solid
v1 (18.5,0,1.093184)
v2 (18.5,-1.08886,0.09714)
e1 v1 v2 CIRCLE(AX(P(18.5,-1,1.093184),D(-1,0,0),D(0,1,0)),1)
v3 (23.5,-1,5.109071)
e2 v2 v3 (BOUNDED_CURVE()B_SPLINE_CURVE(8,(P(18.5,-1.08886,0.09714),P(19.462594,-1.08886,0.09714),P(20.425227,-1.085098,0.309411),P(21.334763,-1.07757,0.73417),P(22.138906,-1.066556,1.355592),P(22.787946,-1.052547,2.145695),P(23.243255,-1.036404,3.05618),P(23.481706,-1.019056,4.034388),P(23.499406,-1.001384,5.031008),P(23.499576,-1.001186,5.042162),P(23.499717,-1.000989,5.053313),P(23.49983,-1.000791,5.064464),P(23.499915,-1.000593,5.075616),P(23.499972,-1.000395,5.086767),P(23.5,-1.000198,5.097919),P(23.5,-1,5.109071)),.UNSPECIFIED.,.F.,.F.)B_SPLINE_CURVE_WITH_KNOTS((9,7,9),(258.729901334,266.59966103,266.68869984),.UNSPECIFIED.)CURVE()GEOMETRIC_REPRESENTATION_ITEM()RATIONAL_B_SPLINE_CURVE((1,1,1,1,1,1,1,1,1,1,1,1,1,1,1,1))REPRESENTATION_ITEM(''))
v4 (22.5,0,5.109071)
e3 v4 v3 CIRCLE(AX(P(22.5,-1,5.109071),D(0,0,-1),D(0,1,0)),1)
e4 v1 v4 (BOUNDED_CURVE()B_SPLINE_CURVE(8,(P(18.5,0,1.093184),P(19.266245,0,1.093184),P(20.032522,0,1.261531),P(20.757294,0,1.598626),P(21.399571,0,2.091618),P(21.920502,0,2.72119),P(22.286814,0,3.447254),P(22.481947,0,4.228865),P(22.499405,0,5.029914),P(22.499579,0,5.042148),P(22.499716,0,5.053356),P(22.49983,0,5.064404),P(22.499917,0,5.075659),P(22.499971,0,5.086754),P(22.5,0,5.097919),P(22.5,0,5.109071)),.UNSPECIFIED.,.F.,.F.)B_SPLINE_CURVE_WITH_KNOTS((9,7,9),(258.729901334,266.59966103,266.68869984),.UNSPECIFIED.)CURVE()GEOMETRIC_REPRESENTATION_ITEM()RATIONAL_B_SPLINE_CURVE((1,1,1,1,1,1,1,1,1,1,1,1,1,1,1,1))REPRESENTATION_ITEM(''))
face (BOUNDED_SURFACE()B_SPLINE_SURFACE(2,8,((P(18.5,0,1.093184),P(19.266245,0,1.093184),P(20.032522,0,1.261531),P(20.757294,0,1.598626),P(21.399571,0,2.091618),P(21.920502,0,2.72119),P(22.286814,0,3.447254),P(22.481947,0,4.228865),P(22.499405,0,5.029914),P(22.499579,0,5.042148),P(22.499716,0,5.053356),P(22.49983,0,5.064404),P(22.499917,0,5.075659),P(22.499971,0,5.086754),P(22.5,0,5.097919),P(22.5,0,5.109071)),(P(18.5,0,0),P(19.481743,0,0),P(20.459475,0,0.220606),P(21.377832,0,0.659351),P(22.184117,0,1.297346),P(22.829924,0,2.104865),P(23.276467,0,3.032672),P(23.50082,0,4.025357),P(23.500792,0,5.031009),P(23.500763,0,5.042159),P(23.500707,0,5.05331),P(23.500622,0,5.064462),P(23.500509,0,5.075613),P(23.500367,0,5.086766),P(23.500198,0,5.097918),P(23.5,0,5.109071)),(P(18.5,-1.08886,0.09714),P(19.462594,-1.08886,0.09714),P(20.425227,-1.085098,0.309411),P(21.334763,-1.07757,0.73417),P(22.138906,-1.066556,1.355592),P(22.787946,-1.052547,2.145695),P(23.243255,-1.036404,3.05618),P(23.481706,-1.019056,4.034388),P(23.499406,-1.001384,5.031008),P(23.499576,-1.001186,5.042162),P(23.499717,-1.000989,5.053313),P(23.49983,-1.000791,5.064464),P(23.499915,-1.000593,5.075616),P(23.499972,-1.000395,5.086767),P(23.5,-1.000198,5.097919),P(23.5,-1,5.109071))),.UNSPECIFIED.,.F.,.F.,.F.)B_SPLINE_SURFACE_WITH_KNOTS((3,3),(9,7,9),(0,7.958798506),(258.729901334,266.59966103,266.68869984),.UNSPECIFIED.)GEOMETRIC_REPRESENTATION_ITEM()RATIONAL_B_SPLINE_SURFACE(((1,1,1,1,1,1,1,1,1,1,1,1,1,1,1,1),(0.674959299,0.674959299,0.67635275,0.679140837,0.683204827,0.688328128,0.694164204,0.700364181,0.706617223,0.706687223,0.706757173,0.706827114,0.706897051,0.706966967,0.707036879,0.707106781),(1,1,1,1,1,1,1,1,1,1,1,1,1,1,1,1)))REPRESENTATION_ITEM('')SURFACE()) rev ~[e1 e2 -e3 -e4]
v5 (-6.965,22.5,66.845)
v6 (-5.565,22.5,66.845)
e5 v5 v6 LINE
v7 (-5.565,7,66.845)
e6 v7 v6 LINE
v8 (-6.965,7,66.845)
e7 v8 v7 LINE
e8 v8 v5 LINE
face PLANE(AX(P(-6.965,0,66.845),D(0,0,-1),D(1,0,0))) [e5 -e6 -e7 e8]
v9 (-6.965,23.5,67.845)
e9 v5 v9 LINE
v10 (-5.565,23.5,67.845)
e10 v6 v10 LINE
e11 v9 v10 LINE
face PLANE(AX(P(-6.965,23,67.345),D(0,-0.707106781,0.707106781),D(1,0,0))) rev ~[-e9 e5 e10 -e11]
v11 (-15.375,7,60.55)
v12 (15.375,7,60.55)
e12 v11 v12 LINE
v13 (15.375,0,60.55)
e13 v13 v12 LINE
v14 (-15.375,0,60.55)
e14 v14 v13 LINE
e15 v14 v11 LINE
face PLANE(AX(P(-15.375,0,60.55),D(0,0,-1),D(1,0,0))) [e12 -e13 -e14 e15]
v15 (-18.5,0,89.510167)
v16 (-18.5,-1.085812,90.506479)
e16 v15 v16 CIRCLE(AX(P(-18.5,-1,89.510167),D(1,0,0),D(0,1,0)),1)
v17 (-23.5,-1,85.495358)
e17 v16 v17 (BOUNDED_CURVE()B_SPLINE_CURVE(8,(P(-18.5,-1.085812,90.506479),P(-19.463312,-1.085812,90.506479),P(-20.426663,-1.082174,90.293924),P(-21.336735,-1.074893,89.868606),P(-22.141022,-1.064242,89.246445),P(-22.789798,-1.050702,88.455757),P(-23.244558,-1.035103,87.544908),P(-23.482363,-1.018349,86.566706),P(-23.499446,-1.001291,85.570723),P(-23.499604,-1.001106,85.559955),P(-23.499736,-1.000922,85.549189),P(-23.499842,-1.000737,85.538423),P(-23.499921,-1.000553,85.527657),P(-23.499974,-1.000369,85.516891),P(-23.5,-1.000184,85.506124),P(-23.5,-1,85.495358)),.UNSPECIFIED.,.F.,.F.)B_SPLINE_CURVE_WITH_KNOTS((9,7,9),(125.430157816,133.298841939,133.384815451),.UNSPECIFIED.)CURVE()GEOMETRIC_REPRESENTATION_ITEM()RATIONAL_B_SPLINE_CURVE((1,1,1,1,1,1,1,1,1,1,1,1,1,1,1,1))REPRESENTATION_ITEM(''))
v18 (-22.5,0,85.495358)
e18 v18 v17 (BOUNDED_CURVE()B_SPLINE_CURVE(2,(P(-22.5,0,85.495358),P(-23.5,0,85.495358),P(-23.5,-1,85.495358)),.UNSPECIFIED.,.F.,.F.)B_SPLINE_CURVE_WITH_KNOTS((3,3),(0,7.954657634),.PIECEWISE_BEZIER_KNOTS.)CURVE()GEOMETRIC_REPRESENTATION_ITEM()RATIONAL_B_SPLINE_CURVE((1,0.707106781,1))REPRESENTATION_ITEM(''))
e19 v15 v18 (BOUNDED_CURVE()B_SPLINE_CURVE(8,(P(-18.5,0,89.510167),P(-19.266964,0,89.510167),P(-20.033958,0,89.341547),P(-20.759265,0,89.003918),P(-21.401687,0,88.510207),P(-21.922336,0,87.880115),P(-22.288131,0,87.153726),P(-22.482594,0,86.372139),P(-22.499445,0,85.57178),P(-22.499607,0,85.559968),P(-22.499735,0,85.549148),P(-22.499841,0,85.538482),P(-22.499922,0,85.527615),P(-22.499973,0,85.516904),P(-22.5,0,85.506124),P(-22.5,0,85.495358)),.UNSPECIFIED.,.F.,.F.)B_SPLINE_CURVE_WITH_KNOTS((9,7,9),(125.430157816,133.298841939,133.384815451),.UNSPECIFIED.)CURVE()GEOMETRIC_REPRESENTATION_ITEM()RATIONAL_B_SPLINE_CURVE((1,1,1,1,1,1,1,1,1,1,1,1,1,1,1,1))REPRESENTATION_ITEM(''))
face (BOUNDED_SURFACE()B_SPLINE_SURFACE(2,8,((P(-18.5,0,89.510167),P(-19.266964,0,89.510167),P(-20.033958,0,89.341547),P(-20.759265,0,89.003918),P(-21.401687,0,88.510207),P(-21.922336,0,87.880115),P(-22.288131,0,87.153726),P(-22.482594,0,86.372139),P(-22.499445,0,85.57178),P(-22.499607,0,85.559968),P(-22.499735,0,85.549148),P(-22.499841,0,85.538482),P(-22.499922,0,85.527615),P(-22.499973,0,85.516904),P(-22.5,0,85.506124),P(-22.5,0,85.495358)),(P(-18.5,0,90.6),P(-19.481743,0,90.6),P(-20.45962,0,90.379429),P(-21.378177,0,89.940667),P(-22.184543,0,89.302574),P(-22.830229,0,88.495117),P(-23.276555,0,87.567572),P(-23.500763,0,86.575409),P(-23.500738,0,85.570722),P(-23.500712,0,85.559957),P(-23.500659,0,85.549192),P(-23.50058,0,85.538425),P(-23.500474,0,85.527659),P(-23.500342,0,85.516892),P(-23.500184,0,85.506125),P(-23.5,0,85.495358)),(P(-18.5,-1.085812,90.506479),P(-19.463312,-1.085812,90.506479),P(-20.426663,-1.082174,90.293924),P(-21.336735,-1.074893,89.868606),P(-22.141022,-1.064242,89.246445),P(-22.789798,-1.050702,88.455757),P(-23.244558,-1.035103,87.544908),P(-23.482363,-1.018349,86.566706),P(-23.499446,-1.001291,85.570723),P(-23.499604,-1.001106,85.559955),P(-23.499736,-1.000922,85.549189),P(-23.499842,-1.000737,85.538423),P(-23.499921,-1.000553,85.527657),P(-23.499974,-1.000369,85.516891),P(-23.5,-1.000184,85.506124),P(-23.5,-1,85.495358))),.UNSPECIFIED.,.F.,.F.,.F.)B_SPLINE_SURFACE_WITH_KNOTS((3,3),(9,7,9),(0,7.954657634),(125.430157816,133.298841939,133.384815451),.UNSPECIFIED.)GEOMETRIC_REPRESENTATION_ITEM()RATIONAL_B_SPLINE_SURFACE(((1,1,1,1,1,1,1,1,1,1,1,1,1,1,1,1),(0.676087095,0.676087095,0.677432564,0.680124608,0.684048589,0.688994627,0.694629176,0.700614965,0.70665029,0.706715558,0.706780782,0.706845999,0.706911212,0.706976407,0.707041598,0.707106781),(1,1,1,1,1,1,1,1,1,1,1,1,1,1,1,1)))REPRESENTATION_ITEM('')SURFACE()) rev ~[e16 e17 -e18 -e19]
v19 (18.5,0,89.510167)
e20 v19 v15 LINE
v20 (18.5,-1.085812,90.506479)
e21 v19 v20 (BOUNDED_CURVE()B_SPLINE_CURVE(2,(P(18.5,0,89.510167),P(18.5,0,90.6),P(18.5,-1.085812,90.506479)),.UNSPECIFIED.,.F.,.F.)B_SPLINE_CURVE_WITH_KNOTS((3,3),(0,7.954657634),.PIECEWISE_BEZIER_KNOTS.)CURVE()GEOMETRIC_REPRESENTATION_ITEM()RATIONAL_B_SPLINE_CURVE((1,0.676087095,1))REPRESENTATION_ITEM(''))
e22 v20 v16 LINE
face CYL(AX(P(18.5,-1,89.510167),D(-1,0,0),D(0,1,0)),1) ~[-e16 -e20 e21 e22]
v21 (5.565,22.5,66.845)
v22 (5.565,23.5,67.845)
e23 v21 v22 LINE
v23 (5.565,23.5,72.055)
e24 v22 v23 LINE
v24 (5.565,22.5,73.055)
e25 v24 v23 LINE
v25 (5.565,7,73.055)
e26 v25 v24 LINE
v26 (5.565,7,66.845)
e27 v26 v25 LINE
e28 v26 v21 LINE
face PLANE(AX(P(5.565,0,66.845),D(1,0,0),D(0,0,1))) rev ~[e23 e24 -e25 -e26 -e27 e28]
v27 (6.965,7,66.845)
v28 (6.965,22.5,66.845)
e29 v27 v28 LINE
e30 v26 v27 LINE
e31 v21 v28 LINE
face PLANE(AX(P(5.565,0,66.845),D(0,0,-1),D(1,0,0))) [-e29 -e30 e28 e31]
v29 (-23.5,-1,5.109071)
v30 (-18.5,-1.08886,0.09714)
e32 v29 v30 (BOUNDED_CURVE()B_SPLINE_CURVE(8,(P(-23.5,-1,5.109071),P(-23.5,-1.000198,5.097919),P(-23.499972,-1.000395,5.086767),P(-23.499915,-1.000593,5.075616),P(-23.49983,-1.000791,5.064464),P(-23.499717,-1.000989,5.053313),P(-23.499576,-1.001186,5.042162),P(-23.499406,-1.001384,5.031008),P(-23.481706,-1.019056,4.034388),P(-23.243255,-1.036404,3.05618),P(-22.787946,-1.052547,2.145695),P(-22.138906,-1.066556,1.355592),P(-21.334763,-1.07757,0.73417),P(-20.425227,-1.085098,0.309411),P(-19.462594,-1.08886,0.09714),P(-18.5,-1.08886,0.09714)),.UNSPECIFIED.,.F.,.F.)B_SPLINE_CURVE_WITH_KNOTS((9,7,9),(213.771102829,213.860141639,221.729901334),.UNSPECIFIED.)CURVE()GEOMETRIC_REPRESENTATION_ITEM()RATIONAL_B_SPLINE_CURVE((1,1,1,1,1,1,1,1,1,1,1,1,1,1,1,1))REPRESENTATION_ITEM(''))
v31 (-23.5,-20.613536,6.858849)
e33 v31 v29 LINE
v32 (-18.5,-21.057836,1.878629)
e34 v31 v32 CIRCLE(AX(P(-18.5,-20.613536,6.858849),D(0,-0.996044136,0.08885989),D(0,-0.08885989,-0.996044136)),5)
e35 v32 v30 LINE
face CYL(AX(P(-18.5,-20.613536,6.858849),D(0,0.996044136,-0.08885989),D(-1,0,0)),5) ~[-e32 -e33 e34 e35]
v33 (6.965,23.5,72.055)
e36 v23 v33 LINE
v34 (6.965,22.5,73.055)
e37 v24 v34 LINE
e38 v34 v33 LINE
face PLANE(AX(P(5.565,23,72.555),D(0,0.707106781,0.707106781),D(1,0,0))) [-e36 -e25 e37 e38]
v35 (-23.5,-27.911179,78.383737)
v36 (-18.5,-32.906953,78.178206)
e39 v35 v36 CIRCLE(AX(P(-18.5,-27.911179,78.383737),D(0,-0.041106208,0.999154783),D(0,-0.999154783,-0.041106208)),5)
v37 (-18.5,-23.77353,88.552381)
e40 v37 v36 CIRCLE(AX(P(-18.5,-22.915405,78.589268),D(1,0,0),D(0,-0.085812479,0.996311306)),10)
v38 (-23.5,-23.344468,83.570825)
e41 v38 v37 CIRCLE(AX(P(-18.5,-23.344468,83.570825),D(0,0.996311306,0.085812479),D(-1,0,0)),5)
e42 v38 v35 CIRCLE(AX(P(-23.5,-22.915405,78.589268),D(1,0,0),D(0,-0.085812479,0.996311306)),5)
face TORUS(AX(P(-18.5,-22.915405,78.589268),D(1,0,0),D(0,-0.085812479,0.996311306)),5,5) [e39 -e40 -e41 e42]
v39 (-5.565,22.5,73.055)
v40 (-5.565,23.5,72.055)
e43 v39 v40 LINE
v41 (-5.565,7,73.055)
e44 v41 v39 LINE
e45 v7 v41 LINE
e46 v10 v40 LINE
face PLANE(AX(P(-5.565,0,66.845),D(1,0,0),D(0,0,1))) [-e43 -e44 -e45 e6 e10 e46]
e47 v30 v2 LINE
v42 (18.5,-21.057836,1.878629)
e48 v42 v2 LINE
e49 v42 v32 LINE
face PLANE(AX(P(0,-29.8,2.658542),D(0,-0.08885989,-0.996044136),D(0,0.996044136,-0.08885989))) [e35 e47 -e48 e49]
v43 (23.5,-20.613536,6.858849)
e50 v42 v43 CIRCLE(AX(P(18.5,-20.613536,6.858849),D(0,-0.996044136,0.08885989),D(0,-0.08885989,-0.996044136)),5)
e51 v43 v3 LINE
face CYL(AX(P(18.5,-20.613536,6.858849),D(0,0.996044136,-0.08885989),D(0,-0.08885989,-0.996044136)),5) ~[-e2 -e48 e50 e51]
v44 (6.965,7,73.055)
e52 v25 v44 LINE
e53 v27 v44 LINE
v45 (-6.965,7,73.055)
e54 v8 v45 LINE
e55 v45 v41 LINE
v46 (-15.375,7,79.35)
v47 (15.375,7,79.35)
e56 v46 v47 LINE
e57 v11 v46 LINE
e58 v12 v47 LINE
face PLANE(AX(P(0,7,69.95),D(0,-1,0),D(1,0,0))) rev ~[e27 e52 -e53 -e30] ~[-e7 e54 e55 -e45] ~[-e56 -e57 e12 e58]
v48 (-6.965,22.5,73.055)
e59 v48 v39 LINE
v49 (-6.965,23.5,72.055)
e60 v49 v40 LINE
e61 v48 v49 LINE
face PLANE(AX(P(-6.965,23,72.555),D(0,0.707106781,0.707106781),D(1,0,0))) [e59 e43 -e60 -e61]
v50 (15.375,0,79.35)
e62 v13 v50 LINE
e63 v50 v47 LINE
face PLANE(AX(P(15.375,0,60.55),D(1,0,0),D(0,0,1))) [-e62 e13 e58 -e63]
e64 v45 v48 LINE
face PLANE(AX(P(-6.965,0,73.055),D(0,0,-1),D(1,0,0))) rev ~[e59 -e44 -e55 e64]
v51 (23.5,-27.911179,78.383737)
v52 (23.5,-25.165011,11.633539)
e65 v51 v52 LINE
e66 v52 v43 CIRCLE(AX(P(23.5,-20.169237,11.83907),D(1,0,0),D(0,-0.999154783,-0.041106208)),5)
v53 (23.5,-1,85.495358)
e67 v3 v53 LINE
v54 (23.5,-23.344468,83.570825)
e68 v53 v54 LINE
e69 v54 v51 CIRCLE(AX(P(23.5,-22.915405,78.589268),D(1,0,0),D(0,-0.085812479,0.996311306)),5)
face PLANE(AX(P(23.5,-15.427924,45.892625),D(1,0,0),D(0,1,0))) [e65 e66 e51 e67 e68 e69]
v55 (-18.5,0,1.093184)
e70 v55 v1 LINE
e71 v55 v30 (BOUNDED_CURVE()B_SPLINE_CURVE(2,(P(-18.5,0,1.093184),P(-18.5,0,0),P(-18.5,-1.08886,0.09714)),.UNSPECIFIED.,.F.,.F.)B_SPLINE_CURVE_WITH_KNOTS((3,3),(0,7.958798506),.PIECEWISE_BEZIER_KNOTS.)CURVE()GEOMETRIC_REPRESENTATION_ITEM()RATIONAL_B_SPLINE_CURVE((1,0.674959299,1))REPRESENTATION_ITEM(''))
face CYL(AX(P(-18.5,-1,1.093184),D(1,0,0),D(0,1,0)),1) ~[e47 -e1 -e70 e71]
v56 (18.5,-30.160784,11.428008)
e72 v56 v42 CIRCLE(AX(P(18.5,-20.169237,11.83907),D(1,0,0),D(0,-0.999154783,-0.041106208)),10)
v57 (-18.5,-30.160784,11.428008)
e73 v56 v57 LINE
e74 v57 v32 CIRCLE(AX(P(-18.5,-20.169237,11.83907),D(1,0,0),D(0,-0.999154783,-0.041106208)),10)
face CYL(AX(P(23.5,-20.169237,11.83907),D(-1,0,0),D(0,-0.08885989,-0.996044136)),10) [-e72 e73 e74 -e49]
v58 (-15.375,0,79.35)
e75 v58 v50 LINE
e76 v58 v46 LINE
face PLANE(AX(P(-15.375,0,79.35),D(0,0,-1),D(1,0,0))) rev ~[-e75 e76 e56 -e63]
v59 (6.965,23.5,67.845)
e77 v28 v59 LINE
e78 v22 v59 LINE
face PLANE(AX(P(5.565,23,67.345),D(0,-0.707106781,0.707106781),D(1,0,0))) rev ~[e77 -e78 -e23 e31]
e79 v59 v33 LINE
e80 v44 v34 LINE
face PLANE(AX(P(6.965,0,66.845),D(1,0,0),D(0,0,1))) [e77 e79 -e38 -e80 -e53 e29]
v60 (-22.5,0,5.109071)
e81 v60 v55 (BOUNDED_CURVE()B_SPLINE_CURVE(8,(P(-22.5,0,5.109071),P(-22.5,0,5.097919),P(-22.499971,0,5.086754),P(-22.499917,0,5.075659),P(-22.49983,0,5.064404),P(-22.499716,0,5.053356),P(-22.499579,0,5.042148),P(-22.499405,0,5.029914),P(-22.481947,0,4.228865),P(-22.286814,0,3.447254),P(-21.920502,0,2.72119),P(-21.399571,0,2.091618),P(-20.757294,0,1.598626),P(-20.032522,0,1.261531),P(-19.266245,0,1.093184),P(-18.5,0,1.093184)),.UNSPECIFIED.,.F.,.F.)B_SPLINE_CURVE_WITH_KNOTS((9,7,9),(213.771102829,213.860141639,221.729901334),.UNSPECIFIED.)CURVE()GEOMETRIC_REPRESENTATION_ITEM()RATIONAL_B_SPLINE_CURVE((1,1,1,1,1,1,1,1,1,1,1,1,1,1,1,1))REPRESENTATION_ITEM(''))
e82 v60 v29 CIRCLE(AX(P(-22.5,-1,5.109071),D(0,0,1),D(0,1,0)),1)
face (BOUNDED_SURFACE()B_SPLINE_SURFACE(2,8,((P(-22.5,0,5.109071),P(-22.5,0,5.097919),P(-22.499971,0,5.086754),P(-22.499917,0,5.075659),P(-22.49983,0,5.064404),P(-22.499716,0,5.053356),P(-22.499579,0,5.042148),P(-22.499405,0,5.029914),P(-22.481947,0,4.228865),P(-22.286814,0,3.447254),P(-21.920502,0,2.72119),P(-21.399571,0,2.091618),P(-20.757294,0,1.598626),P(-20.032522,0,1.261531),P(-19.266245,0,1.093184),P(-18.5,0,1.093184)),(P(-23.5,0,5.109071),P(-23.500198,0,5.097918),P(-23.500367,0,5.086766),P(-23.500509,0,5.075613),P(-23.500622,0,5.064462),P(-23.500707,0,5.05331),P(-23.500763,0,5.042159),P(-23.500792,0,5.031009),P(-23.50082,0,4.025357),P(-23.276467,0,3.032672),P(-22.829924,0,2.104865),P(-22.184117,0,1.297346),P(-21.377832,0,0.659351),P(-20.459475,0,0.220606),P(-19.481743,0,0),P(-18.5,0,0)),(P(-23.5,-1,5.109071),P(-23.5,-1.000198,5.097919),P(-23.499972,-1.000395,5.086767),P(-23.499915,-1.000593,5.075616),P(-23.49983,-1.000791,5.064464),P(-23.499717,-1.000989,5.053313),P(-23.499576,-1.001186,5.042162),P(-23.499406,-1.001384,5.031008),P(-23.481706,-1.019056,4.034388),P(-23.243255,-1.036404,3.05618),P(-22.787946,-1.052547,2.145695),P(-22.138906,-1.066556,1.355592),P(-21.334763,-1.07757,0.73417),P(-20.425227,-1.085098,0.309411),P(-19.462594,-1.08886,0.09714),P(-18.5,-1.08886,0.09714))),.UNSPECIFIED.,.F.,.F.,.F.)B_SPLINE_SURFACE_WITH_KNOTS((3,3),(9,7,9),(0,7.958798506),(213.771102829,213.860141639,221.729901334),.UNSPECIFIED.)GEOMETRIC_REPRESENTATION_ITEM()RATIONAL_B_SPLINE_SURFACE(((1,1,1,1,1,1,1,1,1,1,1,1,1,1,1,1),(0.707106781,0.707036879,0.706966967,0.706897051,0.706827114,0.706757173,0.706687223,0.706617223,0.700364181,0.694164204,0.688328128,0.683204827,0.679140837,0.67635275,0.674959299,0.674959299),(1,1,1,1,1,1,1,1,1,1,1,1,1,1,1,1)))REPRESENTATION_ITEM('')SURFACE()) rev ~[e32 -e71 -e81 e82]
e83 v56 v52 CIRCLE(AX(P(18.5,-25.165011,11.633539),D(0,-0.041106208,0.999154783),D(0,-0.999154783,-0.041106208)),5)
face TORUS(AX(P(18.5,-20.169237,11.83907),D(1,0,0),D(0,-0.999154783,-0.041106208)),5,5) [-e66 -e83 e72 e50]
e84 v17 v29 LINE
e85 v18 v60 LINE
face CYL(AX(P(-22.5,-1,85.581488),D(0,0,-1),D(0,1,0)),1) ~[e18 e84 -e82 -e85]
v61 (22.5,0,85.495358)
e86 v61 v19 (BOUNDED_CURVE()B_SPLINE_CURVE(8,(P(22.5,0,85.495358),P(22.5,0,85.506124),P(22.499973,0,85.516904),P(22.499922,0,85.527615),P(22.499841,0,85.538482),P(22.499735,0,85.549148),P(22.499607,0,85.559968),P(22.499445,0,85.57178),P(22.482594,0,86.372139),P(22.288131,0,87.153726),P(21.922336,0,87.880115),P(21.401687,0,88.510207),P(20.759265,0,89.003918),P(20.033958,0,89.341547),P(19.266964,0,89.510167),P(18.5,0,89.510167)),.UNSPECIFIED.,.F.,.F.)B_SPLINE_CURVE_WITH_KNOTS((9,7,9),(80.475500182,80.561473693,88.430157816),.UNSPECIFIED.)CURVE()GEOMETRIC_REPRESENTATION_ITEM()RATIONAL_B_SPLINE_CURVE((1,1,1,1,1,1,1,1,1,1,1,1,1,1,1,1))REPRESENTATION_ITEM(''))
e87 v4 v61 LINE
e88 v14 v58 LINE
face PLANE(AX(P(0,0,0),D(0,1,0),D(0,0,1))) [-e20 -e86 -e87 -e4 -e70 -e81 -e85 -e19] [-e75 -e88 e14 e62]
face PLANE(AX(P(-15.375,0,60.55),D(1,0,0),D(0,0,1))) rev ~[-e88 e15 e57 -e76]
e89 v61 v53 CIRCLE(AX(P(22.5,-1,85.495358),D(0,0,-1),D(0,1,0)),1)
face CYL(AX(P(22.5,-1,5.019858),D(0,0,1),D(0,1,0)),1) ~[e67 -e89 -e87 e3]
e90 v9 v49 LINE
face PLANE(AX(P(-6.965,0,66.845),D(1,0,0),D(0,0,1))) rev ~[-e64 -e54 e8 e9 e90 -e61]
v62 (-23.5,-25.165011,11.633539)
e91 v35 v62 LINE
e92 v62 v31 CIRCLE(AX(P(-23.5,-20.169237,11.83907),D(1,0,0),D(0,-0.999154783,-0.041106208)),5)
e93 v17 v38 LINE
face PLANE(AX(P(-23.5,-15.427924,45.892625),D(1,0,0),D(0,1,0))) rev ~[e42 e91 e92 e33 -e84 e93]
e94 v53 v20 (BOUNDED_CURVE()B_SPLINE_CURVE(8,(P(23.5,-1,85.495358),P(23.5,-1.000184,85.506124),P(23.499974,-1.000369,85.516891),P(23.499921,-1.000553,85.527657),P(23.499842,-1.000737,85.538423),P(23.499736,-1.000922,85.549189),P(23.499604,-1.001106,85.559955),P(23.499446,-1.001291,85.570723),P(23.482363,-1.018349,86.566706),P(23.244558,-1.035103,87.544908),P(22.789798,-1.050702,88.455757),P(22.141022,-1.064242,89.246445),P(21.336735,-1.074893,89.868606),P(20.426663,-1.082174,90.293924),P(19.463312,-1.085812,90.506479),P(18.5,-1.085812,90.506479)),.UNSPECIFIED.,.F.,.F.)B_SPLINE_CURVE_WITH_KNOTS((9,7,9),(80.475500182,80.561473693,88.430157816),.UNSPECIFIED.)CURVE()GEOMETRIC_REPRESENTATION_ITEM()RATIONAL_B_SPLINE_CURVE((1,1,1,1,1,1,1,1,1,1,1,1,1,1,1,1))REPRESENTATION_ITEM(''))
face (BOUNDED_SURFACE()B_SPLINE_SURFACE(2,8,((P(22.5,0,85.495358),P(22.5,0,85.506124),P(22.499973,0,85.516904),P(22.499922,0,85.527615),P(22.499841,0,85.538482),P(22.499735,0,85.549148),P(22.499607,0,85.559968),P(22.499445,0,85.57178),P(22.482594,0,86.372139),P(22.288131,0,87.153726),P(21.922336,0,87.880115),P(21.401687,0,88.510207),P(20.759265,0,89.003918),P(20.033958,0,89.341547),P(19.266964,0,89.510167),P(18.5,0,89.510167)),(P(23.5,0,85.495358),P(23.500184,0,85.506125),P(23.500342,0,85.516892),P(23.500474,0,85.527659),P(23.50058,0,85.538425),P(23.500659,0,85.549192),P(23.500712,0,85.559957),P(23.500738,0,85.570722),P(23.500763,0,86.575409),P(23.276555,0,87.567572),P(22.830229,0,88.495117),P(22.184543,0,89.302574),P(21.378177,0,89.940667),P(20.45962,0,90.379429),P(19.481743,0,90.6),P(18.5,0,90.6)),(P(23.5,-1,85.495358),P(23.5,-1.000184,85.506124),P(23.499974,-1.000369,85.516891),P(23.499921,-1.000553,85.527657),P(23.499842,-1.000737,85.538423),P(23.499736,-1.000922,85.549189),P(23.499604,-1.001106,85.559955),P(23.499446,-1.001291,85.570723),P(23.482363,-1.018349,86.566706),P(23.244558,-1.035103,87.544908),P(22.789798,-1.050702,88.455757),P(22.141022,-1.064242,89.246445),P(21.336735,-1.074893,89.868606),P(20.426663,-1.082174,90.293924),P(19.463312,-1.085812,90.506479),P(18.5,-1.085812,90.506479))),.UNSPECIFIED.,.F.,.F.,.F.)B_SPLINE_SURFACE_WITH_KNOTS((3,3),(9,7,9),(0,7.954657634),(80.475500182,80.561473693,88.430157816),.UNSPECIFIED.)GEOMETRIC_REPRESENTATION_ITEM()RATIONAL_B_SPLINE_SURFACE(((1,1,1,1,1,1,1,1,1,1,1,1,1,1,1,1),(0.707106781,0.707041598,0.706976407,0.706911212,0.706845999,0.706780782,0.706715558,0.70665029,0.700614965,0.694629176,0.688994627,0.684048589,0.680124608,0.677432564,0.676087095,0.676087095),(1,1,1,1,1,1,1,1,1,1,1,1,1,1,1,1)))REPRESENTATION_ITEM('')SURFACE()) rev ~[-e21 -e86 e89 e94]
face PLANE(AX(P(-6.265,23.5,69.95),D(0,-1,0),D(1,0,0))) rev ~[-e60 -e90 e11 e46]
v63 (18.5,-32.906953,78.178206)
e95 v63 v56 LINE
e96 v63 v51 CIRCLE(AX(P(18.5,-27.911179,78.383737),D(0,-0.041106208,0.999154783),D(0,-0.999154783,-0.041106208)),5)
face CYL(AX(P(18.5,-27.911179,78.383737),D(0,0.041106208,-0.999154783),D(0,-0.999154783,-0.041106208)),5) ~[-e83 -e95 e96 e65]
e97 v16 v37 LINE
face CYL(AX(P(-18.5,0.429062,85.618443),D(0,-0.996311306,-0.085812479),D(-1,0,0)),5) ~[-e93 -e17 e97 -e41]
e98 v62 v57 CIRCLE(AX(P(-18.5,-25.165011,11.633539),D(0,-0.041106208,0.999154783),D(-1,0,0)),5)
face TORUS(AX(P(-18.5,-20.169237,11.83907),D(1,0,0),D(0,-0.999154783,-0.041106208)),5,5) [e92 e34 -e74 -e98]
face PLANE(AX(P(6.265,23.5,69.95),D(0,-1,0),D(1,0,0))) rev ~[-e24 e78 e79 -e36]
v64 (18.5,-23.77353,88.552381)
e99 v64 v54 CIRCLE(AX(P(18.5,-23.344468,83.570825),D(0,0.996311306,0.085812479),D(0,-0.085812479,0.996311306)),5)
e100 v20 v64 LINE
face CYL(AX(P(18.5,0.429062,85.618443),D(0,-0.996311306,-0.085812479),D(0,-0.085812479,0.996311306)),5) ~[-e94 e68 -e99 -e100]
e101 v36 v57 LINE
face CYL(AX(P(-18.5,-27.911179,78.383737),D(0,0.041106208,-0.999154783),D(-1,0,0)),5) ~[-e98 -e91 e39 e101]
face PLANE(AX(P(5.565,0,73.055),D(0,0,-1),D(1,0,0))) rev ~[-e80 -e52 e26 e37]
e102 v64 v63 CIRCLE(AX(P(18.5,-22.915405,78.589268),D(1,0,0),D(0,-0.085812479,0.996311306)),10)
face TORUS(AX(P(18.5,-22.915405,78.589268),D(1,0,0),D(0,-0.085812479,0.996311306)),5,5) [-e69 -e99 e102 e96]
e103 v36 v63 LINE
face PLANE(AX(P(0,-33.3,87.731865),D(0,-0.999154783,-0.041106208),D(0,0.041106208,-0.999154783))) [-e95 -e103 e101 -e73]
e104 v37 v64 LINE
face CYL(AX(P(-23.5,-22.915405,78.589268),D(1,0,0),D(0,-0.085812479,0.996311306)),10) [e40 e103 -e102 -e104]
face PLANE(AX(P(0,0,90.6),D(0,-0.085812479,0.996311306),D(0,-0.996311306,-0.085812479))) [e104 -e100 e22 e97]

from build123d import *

# Parameters (mm, degrees)
F1_DEPTH = 23.5
F2_W     = 30.75
F2_H     = 18.8
F2_W_2   = 1.4
F2_H_2   = 6.21
F3_DEPTH = 7
F4_DEPTH = 23.5
F5_R     = 10
F6_R     = 5
F7_R     = 1
F8_SIZE  = 1


with BuildPart() as f1:
    # F0 (on Right) → F1 (new body, symmetric)
    with BuildSketch(Plane.YZ):
        Polygon((0, 0), (0, 90.6), (-33.3, 87.7318647873), (-29.8, 2.658541554), align=None)
    extrude(amount=F1_DEPTH, both=True)

    # F2 (on Front) → F3 (join)
    with BuildSketch(Plane.XZ):
        with Locations((0, 69.95)):
            Rectangle(F2_W, F2_H)
        with Locations((-6.265, 69.95)):
            Rectangle(F2_W_2, F2_H_2, mode=Mode.SUBTRACT)
        with Locations((6.265, 69.95)):
            Rectangle(F2_W_2, F2_H_2, mode=Mode.SUBTRACT)
        with Locations((6.265, 69.95)):
            Rectangle(F2_W_2, F2_H_2)
        with Locations((-6.265, 69.95)):
            Rectangle(F2_W_2, F2_H_2)
    extrude(amount=-F3_DEPTH)

    # F2 (on Front) → F4 (join)
    with BuildSketch(Plane.XZ):
        with Locations((-6.265, 69.95)):
            Rectangle(F2_W_2, F2_H_2)
        with Locations((6.265, 69.95)):
            Rectangle(F2_W_2, F2_H_2)
    extrude(amount=-F4_DEPTH)

    # F5
    f5_edges = [f1.edges().sort_by_distance(p)[0] for p in [
        (0, -33.3, 87.731865),
        (0, -29.8, 2.658542),
    ]]
    fillet(f5_edges, radius=F5_R)

    # F6
    f6_edges = [f1.edges().sort_by_distance(p)[0] for p in [
        (23.5, -31.533869, 44.803107),
        (-23.5, -31.533869, 44.803107),
    ]]
    fillet(f6_edges, radius=F6_R)

    # F7
    f7_edges = [f1.edges().sort_by_distance(p)[0] for p in [
        (23.5, 0, 45.300673),
    ]]
    fillet(f7_edges, radius=F7_R)

    # F8
    f8_edges = [f1.edges().sort_by_distance(p)[0] for p in [
        (-6.265, 23.5, 73.055),
        (-6.265, 23.5, 66.845),
        (6.265, 23.5, 73.055),
        (6.265, 23.5, 66.845),
    ]]
    chamfer(f8_edges, length=F8_SIZE)


solid = f1.part
